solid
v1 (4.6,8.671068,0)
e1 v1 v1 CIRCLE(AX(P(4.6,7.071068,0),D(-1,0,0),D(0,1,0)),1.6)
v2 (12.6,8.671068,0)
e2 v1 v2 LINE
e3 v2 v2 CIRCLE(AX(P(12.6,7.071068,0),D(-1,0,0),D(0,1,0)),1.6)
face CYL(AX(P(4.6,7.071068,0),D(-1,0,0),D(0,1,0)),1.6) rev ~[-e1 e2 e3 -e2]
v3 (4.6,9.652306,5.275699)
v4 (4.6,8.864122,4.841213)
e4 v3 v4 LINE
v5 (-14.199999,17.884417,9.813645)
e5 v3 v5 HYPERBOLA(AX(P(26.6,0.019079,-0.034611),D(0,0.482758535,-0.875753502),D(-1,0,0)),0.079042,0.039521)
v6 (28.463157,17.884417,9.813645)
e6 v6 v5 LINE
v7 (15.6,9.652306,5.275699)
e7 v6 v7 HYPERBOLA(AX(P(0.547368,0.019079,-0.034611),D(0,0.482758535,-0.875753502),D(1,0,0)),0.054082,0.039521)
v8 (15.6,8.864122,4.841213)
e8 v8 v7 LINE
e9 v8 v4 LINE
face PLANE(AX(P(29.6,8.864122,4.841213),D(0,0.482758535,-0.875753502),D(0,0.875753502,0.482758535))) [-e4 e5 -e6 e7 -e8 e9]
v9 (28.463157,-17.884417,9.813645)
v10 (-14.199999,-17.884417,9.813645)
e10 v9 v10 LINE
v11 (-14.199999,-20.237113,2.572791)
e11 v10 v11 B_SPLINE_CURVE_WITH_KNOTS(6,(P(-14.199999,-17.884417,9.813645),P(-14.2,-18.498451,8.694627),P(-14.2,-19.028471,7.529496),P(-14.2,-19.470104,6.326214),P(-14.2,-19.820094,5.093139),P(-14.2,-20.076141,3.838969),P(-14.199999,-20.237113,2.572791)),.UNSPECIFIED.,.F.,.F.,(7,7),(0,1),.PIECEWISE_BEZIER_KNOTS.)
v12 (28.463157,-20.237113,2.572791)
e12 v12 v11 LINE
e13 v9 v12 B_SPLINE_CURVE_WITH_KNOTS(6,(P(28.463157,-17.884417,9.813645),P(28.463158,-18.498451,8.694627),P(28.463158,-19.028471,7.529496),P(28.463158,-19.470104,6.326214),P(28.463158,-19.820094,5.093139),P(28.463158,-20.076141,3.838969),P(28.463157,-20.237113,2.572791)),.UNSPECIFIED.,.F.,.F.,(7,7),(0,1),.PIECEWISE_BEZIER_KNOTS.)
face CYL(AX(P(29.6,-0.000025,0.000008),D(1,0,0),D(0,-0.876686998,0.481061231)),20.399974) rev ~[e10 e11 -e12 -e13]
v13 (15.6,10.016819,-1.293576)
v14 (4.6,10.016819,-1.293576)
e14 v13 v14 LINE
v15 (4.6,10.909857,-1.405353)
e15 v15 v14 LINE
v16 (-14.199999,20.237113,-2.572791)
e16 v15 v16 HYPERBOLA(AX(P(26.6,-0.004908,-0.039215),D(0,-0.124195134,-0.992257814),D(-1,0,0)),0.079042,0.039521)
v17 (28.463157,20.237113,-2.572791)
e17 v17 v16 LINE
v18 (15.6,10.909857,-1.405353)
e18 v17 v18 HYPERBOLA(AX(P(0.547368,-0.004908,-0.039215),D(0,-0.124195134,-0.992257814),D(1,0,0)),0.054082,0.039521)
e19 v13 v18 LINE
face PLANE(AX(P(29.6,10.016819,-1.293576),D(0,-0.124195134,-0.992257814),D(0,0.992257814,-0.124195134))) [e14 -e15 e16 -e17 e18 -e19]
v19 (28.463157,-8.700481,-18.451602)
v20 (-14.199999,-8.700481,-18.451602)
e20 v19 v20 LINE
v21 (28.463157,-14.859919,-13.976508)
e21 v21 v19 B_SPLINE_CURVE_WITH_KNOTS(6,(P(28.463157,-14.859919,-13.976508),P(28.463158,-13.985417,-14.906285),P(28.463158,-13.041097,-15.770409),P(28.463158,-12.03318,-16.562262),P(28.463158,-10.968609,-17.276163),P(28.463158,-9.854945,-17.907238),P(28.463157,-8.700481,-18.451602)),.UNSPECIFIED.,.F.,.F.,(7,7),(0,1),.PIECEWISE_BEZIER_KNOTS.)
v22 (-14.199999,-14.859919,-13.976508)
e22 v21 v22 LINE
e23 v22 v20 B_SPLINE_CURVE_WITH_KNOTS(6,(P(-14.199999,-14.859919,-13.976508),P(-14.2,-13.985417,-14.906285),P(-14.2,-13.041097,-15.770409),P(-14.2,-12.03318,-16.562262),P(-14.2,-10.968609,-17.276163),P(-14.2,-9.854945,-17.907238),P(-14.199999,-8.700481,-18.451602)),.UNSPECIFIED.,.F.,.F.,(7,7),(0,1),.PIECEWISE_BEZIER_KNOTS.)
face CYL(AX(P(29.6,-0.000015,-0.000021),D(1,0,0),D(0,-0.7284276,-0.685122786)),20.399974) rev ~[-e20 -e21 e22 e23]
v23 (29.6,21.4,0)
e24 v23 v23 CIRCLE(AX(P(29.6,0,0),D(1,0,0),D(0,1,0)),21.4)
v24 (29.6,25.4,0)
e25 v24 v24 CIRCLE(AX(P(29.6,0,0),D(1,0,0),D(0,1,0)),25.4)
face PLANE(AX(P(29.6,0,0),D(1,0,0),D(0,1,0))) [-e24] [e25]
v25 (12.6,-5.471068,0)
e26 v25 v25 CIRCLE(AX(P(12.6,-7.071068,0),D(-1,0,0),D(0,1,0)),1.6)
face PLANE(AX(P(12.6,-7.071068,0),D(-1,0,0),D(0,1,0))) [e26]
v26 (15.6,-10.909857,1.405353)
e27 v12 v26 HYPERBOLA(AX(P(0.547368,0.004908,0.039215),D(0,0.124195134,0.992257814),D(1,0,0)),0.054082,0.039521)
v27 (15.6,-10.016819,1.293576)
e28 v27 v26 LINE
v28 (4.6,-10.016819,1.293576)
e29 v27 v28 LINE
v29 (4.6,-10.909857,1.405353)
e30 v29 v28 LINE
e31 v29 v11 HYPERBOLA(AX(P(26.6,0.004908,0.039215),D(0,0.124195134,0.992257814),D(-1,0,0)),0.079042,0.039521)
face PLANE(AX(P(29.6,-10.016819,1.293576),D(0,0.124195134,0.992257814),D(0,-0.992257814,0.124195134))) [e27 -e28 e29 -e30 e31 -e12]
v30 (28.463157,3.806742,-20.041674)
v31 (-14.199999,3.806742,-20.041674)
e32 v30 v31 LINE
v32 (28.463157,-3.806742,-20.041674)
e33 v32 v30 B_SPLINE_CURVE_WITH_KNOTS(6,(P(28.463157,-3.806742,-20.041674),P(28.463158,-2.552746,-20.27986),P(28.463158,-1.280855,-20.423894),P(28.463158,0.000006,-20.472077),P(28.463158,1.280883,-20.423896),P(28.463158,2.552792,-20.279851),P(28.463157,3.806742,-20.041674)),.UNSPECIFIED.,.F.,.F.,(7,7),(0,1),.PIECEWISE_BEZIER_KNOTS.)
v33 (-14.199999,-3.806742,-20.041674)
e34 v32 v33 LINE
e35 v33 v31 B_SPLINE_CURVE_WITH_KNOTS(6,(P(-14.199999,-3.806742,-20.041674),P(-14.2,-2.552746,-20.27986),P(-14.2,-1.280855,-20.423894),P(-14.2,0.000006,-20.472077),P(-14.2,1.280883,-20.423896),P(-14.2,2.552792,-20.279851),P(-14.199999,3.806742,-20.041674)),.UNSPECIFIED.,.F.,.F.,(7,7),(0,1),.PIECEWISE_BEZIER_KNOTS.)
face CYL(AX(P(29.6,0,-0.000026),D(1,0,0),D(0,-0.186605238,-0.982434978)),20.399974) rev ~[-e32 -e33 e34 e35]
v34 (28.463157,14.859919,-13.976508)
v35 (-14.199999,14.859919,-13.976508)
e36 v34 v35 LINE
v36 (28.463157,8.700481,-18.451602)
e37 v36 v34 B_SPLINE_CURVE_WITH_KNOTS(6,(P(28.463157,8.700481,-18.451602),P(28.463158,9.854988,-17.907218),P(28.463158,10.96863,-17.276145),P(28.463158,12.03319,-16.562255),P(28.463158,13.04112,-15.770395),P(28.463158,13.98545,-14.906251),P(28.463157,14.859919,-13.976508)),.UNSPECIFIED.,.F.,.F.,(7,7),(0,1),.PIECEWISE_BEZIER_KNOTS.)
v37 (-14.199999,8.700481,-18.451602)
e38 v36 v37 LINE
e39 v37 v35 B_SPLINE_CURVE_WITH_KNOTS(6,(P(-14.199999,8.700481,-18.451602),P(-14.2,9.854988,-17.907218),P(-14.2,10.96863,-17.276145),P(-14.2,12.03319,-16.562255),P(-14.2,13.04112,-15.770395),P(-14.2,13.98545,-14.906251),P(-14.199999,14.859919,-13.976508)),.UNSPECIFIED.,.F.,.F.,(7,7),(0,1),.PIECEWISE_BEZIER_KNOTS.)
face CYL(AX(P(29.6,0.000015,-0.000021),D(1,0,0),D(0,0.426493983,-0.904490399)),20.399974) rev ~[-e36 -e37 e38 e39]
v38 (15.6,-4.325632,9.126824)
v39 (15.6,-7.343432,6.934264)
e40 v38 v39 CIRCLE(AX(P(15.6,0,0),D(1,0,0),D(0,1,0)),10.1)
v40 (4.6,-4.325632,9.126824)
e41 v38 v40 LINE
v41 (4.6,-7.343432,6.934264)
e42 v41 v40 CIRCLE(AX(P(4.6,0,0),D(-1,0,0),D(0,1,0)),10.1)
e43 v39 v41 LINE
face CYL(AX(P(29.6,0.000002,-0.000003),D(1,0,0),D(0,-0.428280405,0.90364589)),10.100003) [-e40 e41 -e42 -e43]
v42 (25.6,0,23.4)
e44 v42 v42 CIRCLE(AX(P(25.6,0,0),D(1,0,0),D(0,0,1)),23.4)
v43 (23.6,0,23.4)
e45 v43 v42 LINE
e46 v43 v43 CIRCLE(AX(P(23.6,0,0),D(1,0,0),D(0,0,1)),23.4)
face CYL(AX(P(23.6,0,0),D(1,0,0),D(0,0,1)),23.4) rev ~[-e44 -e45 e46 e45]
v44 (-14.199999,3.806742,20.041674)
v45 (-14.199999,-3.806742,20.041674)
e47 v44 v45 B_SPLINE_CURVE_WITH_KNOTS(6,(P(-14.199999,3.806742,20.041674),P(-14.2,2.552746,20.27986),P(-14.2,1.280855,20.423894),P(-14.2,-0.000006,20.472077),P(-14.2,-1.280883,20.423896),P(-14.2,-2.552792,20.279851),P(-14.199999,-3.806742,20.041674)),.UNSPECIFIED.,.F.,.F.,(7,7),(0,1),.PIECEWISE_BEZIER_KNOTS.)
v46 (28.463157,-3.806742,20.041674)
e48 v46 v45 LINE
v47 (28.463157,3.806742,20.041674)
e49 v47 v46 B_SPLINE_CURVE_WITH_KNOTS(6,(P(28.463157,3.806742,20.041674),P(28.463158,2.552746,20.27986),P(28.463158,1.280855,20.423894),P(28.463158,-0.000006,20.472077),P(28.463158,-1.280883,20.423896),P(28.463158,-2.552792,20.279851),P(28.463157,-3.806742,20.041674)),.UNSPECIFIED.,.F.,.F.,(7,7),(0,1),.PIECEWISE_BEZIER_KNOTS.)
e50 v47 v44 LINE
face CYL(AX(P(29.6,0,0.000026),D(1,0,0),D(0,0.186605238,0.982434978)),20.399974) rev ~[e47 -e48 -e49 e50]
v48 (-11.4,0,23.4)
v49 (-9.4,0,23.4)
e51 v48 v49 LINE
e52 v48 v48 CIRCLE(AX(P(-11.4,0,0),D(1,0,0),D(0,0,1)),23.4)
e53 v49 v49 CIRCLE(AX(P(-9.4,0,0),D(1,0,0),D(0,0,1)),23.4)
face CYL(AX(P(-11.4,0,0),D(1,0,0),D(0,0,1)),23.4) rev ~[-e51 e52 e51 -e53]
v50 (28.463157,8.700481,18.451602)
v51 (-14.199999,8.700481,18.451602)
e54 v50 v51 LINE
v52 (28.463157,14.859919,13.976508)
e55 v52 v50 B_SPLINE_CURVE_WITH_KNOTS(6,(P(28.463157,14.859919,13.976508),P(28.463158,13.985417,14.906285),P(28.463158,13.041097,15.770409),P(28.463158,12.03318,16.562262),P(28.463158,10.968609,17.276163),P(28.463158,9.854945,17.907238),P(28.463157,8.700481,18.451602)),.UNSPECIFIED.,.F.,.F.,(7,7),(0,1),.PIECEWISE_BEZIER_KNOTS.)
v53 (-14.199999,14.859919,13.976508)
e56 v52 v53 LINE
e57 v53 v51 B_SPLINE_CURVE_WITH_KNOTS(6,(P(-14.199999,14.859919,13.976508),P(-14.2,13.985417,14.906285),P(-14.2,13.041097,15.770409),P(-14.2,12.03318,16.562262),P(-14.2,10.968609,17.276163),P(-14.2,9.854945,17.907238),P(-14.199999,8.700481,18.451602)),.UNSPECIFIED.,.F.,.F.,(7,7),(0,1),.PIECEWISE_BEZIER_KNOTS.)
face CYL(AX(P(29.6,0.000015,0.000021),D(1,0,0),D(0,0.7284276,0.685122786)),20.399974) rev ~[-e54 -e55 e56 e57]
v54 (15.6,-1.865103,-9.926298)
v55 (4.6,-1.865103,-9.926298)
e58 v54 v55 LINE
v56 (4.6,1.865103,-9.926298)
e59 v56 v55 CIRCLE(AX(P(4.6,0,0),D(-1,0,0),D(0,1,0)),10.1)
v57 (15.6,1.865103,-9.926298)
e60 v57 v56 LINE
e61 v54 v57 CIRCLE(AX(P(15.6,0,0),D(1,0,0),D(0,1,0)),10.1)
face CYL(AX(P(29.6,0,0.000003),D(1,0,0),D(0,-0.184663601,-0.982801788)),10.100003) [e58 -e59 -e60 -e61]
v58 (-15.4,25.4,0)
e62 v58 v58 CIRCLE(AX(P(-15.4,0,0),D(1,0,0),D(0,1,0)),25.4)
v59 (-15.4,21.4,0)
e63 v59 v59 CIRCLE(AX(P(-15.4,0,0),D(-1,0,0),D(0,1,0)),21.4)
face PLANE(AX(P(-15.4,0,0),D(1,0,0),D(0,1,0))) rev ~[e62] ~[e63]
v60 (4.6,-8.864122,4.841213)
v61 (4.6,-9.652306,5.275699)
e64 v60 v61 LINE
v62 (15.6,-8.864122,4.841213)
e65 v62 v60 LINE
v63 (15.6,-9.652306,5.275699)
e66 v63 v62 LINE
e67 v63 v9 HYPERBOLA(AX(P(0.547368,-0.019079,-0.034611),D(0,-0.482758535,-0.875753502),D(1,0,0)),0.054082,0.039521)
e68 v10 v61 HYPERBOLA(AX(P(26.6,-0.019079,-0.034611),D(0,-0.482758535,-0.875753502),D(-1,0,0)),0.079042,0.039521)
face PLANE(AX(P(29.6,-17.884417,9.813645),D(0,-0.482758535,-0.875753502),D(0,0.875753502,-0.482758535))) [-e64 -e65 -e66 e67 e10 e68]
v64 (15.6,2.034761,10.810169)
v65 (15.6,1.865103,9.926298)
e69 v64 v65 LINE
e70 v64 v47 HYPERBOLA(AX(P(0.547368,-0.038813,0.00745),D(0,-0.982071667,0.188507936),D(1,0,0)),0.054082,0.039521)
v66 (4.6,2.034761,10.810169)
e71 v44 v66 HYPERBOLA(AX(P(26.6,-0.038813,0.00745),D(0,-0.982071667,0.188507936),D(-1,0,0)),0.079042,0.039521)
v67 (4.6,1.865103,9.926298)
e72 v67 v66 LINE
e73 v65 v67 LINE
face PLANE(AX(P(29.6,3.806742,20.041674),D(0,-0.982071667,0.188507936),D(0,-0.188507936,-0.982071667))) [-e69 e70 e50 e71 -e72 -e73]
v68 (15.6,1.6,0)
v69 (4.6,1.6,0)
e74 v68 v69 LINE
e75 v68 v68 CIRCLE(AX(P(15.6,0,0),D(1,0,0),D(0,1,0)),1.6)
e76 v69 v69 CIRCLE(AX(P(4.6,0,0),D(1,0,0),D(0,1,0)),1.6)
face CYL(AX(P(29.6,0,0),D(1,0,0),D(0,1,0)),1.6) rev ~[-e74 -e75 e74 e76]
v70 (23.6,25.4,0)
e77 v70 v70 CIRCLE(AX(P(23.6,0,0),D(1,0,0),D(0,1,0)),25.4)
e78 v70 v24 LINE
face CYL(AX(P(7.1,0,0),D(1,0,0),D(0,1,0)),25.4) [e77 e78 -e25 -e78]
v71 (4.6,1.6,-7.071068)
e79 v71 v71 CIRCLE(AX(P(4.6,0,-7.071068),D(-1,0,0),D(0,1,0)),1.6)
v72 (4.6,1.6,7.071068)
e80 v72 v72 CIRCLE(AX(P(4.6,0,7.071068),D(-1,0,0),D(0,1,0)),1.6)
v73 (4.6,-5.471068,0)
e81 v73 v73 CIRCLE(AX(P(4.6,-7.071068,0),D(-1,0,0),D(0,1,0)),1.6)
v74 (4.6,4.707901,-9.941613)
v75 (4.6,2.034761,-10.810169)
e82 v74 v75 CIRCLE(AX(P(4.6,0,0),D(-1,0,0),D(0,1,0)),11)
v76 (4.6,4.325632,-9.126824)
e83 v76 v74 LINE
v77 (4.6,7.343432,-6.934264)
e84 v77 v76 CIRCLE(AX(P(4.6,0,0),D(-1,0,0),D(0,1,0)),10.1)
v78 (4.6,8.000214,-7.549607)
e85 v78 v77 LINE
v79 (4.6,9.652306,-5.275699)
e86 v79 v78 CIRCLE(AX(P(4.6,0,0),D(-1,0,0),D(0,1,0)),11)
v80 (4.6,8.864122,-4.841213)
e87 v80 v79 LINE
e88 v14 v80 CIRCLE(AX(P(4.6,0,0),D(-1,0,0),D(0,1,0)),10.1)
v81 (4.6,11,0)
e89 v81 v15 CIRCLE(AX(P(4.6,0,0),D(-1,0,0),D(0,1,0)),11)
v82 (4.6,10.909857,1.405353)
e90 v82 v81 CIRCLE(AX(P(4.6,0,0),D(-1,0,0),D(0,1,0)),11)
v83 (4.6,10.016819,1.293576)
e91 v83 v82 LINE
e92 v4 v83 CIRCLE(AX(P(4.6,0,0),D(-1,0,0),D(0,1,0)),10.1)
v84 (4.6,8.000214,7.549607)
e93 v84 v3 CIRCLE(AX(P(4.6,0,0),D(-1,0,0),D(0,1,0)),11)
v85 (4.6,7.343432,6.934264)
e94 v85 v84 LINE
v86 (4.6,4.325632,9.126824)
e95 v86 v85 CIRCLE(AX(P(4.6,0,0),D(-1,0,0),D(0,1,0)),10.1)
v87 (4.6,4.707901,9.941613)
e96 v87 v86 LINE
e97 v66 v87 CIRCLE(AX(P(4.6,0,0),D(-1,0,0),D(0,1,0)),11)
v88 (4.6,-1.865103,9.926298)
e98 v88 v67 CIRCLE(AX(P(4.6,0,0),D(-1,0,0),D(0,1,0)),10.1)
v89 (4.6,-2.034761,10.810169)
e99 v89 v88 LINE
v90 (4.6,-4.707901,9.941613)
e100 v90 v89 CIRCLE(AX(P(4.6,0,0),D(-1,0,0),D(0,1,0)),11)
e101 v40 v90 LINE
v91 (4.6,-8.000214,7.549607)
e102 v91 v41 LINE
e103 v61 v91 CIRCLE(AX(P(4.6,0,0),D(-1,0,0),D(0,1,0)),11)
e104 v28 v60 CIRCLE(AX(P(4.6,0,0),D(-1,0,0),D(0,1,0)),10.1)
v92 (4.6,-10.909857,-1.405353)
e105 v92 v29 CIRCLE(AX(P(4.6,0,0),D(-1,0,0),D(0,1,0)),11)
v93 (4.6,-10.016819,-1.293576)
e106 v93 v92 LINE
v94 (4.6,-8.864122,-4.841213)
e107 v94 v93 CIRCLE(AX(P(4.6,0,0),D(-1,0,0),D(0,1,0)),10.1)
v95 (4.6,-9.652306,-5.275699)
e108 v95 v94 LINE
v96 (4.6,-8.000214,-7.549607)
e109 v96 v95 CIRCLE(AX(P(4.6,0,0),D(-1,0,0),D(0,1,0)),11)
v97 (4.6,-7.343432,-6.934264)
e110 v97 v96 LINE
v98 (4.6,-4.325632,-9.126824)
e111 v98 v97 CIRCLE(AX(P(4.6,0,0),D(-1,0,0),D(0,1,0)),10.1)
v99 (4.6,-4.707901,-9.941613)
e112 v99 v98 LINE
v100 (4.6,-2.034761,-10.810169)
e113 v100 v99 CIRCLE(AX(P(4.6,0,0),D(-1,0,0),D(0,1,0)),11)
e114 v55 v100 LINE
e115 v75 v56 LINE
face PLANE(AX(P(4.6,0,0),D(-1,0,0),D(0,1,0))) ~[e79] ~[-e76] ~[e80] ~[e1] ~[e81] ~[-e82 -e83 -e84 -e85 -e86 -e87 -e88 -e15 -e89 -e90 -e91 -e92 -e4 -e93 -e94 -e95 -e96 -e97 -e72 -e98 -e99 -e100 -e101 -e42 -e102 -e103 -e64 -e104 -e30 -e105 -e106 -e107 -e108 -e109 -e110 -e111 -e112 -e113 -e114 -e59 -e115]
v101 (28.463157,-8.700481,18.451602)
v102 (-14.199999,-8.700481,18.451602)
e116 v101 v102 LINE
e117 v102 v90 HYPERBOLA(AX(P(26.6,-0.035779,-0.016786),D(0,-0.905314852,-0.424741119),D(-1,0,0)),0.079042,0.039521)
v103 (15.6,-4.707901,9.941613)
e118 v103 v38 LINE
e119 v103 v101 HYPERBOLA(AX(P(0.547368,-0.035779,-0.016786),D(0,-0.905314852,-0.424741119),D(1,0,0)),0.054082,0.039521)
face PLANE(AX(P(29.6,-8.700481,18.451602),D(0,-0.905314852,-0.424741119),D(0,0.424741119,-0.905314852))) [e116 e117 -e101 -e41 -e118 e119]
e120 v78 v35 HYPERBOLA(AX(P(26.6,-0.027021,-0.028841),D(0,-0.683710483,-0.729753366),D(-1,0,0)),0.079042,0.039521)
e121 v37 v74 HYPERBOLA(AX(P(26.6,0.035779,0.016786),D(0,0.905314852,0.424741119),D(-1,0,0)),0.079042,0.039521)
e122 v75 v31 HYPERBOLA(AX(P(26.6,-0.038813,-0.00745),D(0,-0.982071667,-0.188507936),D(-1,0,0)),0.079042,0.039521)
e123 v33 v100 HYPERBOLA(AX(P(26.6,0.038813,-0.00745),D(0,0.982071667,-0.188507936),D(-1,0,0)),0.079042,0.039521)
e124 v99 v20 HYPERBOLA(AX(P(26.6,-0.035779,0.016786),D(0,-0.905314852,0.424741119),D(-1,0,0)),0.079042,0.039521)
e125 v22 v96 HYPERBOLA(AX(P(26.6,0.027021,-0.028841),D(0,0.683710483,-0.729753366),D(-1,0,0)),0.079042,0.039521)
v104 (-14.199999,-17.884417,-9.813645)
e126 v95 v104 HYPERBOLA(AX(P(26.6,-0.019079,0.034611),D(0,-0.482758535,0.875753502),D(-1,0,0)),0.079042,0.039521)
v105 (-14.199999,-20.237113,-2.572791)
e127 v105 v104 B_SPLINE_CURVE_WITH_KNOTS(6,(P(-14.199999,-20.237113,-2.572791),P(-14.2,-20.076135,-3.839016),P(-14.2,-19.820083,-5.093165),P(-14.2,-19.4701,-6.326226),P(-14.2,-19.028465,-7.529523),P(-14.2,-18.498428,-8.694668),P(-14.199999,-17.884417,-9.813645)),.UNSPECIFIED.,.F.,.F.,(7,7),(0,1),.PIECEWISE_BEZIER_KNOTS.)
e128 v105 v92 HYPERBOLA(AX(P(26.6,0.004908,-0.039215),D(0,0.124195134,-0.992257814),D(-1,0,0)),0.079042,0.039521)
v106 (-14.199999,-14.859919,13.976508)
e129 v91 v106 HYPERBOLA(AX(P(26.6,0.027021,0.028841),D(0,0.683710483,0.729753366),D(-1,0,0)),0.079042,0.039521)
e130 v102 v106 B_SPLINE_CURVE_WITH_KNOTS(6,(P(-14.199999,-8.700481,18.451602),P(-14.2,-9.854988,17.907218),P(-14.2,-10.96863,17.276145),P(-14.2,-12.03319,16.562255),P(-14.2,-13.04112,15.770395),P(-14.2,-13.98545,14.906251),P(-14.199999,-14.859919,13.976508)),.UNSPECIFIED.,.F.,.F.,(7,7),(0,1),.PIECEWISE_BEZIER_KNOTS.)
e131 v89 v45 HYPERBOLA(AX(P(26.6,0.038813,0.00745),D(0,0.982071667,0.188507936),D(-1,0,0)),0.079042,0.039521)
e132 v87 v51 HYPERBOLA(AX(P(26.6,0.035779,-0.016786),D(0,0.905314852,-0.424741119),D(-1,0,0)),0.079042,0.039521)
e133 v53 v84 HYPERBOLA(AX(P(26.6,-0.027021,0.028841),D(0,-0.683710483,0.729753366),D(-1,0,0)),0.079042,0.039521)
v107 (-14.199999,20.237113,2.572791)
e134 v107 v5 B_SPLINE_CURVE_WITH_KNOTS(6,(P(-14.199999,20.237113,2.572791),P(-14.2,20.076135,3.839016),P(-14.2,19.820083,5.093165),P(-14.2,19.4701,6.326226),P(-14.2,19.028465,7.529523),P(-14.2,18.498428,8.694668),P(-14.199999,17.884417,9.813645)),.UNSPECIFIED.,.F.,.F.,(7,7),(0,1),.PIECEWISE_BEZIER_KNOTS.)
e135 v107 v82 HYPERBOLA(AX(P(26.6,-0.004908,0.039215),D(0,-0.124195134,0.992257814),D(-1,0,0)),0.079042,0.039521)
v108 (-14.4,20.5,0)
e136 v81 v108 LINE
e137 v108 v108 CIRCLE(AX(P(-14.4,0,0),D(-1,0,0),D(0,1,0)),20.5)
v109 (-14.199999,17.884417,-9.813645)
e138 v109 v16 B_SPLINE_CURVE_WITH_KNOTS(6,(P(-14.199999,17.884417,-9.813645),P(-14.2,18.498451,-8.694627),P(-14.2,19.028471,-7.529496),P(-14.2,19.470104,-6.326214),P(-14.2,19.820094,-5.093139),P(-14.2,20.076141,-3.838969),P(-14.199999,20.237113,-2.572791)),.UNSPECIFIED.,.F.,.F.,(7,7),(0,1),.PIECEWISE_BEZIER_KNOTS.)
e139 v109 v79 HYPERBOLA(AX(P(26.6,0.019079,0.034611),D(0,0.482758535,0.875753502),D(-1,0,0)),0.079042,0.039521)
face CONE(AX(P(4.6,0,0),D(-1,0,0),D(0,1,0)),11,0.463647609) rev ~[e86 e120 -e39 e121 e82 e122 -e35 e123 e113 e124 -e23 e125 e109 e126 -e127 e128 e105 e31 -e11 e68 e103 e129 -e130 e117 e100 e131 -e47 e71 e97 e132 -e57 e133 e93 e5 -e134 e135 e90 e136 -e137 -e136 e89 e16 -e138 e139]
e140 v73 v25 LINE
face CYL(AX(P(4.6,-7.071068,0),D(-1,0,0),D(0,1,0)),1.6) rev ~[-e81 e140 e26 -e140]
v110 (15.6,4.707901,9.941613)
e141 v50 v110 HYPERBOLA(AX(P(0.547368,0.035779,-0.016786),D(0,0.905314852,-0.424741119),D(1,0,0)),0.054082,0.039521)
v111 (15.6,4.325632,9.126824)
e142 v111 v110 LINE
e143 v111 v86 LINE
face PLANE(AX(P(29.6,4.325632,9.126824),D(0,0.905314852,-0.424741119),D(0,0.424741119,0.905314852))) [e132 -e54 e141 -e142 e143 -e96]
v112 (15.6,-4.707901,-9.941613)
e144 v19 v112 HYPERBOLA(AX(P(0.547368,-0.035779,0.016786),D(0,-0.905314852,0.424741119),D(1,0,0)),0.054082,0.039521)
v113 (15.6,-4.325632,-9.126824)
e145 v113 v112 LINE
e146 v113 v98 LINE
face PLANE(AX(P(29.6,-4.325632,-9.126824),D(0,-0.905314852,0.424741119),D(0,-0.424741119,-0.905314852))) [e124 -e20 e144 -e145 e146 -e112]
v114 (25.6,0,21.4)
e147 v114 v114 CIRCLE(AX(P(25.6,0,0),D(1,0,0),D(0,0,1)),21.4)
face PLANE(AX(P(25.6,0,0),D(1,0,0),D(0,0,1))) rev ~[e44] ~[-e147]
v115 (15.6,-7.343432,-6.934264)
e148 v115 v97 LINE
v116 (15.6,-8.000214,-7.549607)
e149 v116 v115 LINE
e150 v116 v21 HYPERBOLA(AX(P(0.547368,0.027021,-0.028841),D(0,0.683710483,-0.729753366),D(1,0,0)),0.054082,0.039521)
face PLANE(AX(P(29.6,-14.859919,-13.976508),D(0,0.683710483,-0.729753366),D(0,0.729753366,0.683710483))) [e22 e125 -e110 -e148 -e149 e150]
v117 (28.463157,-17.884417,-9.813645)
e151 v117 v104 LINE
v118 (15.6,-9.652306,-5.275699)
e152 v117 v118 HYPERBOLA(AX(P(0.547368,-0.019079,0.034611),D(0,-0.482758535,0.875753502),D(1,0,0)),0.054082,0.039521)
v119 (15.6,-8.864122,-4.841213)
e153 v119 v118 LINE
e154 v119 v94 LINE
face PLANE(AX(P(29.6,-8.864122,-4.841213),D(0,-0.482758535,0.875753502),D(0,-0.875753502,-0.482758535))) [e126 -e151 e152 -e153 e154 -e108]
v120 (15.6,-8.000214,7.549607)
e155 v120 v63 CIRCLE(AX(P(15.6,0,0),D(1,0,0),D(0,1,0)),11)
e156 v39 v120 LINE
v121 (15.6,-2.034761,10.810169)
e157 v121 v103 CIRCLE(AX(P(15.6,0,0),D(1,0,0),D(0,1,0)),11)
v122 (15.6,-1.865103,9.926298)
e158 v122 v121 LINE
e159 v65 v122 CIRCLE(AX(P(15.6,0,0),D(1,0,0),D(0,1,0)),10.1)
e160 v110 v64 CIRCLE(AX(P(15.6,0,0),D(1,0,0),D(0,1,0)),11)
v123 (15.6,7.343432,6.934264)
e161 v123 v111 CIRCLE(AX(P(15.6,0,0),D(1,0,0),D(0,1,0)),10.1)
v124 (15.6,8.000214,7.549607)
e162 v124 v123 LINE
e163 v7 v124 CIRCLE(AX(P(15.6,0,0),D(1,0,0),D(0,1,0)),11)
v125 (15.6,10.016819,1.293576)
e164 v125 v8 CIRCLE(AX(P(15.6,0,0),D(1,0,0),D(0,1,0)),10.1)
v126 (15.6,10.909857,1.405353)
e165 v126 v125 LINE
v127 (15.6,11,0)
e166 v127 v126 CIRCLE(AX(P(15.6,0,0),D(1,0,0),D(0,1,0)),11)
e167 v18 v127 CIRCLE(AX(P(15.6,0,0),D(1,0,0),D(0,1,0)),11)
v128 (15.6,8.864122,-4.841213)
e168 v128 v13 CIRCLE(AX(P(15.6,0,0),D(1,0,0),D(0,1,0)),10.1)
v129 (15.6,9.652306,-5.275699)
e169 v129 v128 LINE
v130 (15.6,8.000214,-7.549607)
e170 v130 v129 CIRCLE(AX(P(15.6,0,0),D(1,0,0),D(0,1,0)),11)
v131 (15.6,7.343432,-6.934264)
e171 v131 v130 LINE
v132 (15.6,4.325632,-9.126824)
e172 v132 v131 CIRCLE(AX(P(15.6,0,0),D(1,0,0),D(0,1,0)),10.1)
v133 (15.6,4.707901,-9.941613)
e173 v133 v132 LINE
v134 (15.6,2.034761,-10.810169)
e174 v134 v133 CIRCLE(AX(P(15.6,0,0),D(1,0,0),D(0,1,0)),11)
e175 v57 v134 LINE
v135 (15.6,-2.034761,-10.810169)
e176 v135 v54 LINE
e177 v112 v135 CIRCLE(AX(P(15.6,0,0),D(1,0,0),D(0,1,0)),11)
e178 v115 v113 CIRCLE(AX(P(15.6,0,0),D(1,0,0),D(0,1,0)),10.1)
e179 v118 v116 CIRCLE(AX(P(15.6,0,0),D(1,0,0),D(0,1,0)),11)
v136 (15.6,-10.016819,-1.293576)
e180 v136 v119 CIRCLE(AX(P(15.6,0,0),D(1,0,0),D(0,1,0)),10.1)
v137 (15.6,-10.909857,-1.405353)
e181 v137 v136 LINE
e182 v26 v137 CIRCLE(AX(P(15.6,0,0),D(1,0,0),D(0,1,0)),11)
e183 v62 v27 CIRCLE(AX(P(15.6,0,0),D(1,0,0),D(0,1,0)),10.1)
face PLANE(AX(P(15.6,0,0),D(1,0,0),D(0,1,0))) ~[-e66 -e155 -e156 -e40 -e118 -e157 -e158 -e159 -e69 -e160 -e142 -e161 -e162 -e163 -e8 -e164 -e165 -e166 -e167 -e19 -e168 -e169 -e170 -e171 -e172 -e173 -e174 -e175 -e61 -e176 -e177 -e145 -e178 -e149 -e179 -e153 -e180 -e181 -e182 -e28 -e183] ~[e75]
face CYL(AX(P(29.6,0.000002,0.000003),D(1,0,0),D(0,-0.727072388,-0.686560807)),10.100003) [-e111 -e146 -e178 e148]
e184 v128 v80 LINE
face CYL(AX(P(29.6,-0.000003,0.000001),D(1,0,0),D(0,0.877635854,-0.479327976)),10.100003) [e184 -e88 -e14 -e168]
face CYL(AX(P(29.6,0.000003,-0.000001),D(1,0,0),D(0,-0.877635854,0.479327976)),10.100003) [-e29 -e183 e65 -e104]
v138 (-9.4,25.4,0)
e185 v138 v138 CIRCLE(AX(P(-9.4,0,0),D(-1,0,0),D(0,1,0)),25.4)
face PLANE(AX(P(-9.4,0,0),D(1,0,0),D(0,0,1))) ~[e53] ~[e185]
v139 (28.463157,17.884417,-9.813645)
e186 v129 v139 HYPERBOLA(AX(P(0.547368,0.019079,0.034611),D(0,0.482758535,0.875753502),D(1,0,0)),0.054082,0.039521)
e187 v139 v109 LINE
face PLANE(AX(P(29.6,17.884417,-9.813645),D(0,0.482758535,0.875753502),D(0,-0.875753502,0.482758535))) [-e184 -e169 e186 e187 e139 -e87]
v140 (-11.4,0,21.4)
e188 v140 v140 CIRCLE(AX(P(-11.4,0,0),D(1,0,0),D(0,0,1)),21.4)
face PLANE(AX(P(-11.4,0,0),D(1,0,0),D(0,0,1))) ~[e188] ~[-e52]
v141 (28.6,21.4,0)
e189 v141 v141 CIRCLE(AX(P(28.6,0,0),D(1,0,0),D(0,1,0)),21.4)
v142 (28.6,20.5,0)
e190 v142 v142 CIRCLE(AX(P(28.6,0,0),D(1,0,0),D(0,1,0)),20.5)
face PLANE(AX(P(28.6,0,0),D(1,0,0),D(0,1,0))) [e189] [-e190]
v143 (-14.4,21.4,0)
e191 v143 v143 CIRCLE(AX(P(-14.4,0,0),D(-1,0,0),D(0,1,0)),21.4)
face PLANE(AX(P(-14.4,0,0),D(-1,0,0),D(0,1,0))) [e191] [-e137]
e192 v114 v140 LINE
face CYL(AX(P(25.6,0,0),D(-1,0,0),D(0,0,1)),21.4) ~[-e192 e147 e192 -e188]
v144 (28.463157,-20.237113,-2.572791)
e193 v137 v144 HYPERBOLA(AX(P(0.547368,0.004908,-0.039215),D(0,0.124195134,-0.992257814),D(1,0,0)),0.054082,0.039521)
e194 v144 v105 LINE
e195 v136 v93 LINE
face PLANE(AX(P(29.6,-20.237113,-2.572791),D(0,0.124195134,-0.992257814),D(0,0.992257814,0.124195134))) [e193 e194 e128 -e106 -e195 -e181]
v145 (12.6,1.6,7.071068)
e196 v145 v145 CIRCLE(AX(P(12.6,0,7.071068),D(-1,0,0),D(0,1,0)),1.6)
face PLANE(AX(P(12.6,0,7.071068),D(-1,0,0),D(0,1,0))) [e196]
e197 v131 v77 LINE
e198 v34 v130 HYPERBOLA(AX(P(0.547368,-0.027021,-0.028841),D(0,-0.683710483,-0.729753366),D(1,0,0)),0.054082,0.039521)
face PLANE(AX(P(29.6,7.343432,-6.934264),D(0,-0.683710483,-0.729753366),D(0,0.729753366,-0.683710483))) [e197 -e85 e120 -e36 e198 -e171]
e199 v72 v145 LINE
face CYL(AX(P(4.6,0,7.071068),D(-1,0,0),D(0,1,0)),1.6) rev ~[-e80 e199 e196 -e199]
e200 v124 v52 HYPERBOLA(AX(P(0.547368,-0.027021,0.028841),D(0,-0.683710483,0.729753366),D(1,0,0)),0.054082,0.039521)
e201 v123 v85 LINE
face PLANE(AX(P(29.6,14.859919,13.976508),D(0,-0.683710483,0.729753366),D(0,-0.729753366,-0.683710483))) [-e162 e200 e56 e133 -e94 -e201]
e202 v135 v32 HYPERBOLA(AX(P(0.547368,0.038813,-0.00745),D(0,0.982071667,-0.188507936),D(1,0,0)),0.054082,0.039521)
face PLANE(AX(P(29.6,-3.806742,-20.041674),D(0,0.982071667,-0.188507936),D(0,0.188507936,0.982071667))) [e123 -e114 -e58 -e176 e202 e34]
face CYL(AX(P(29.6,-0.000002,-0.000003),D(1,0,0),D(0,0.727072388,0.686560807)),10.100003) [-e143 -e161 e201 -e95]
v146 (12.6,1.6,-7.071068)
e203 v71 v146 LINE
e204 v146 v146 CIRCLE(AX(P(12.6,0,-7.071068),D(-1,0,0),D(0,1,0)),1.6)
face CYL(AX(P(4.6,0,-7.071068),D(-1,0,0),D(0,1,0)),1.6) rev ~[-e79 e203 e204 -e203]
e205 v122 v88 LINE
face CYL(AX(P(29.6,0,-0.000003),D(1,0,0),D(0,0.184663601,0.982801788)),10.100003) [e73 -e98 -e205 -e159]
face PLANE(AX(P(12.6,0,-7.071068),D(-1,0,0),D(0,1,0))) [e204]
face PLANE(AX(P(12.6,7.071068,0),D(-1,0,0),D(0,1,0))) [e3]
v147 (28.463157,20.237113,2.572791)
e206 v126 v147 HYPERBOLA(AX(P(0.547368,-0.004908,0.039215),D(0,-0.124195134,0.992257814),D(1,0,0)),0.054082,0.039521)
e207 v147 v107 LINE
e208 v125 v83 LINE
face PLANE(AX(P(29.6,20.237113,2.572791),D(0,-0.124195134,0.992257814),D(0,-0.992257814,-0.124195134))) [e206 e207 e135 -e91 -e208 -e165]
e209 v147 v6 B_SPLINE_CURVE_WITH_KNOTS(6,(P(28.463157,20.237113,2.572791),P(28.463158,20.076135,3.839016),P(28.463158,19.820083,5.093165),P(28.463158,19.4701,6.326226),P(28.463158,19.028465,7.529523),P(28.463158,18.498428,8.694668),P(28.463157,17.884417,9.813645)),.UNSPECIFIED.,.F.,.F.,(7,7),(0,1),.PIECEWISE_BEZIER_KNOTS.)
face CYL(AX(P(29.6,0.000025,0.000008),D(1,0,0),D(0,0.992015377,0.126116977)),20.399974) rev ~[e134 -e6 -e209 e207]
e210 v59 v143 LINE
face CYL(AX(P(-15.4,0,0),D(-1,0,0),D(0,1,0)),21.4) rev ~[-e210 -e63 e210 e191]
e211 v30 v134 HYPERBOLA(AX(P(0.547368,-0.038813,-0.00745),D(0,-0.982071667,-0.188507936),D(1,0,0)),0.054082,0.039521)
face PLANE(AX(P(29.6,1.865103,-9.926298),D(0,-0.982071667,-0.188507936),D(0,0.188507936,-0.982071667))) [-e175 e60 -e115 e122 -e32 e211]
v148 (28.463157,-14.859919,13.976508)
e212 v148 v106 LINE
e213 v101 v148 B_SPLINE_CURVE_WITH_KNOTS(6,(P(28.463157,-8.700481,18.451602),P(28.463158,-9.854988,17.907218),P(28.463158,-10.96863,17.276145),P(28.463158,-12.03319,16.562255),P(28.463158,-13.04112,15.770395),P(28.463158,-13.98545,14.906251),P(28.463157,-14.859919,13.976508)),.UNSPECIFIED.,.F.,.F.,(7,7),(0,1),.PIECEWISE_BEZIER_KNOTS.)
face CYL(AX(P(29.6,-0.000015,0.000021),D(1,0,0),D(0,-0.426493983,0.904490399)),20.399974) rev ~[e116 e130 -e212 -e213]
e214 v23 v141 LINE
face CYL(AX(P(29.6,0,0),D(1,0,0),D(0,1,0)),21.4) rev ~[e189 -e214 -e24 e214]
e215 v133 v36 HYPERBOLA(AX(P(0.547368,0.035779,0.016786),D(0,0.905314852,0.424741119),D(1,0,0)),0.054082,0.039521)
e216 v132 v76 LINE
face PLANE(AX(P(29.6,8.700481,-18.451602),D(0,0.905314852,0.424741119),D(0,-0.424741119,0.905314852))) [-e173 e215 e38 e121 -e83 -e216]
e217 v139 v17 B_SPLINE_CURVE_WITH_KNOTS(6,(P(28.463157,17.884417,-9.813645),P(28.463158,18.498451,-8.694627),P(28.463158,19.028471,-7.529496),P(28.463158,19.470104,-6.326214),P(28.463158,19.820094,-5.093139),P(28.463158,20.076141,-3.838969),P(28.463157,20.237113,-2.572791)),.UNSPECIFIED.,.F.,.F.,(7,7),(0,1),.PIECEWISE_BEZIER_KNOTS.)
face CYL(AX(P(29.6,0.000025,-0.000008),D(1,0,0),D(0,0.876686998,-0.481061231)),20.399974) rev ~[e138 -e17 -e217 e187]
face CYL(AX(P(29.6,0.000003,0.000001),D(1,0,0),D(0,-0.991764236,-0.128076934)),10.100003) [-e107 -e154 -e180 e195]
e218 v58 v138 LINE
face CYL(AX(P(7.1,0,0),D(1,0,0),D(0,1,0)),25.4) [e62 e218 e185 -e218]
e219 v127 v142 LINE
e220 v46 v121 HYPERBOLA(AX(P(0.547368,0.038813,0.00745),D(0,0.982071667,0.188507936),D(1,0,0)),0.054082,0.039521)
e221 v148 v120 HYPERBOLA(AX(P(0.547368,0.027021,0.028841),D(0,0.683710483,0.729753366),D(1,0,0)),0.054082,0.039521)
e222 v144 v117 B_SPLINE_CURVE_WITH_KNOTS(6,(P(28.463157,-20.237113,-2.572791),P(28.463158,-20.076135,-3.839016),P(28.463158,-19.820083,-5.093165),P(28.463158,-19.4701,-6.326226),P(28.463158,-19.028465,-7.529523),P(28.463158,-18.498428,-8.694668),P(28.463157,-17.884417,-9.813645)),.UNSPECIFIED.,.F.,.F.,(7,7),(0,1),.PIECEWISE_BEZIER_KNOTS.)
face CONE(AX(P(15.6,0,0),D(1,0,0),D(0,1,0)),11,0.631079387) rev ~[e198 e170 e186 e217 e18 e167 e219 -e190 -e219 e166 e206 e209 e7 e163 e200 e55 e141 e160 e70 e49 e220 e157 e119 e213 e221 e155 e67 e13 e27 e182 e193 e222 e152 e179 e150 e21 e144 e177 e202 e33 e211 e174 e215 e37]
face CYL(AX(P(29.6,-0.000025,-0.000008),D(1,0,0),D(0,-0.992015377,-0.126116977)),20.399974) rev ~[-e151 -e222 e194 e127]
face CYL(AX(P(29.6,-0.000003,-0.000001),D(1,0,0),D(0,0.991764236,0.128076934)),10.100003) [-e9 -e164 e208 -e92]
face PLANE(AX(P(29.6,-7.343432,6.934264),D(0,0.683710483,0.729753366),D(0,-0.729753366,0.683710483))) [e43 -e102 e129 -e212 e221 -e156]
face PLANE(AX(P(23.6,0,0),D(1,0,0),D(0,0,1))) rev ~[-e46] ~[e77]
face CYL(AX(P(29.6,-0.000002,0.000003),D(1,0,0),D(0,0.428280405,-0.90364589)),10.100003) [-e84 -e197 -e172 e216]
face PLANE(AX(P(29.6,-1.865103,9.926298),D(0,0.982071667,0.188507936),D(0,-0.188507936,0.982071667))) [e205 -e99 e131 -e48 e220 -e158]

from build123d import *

# Parameters (mm, degrees)
SKETCH027_R        = 25.4
PAD009_DEPTH       = 22.5
POCKET015_DEPTH    = 214.544859
POLARPATTERN_COUNT = 10
SKETCH029_R        = 1.6
POCKET016_DEPTH    = 45.001
SKETCH030_R        = 21.4
POCKET017_DEPTH    = 1
SKETCH_R           = 21.4
POCKET_DEPTH       = 1
SKETCH031_R        = 10.1
POCKET018_DEPTH    = 19
SKETCH069_R        = 1.6
POCKET040_DEPTH    = 8
SKETCH035_R        = 10.1
POCKET020_DEPTH    = 13


with BuildPart() as part:
    # Sketch027 → Pad009 (new body, symmetric)
    with BuildSketch(Plane.YZ):
        Circle(SKETCH027_R)
    extrude(amount=PAD009_DEPTH, both=True)

    # Sketch028 (on Face3 of Pad009) → Pocket015 (cut, through all)
    with BuildSketch(Plane.YZ.offset(22.5)):
        with BuildLine():
            ThreePointArc((1.865103, 9.926298), (0, 10.1), (-1.865103, 9.926298))
            Line((-1.865103, 9.926298), (-3.806742, 20.041674))
            ThreePointArc((3.806742, 20.041674), (0, 20.4), (-3.806742, 20.041674))
            Line((3.806742, 20.041674), (1.865103, 9.926298))
        make_face()
    pocket015 = extrude(amount=-POCKET015_DEPTH, mode=Mode.SUBTRACT)

    # PolarPattern: Pocket015 ×10 about axis
    polarpattern_axis = Axis((22.5, 0, 0), (1, 0, 0))
    for i in range(1, POLARPATTERN_COUNT):
        add(pocket015.rotate(polarpattern_axis, i * 360 / POLARPATTERN_COUNT), mode=Mode.SUBTRACT)

    # Sketch033 → Groove (revolve, cut)
    with BuildSketch(Plane.XZ):
        Polygon((-16.5, 25.4), (16.5, 25.4), (16.5, 23.4), (18.5, 23.4), (18.5, 21.4), (-18.5, 21.4), (-18.5, 23.4), (-16.5, 23.4), align=None)
    revolve(axis=Axis((0, 0, 0), (1, 0, 0)), mode=Mode.SUBTRACT)

    # Sketch029 (on Face3 of PolarPattern) → Pocket016 (cut, through all)
    with BuildSketch(Plane.YZ.offset(22.5)):
        Circle(SKETCH029_R)
    extrude(amount=-POCKET016_DEPTH, mode=Mode.SUBTRACT)

    # Sketch030 (on Face2 of Pocket016) → Pocket017 (cut)
    with BuildSketch(Plane(origin=(-22.5, 0, 0), x_dir=(0, 1, 0), z_dir=(-1, 0, 0))):
        Circle(SKETCH030_R)
    extrude(amount=-POCKET017_DEPTH, mode=Mode.SUBTRACT)

    # Sketch (on Face50 of Pocket017) → Pocket (cut)
    with BuildSketch(Plane.YZ.offset(22.5)):
        Circle(SKETCH_R)
    extrude(amount=-POCKET_DEPTH, mode=Mode.SUBTRACT)

    # Sketch031 (on Face6 of Pocket017) → Pocket018 (cut)
    with BuildSketch(Plane(origin=(-21.5, 0, 0), x_dir=(0, 1, 0), z_dir=(-1, 0, 0))):
        Circle(SKETCH031_R)
    extrude(amount=-POCKET018_DEPTH, mode=Mode.SUBTRACT)

    # Sketch069 (on Face52 of Pocket018) → Pocket040 (cut)
    with BuildSketch(Plane(origin=(-2.5, 0, 0), x_dir=(0, 1, 0), z_dir=(-1, 0, 0))):
        with Locations((-7.071068, 0)):
            Circle(SKETCH069_R)
        with Locations((0, 7.071068)):
            Circle(SKETCH069_R)
        with Locations((7.071068, 0)):
            Circle(SKETCH069_R)
        with Locations((0, -7.071068)):
            Circle(SKETCH069_R)
    extrude(amount=-POCKET040_DEPTH, mode=Mode.SUBTRACT)

    # Sketch035 (on Face50 of Pocket040) → Pocket020 (cut)
    with BuildSketch(Plane.YZ.offset(21.5)):
        Circle(SKETCH035_R)
    extrude(amount=-POCKET020_DEPTH, mode=Mode.SUBTRACT)

    # Cone → Cone (revolve, cut)
    with BuildSketch(Plane(origin=(8.5, 0, 0), x_dir=(0, 1, 0), z_dir=(0, 0, -1))):
        Polygon((0, 0), (11, 0), (20.5, 13), (0, 13), align=None)
    revolve(axis=Axis((8.5, 0, 0), (1, 0, 0)), mode=Mode.SUBTRACT)

    # Cone001 → Cone001 (revolve, cut)
    with BuildSketch(Plane(origin=(-2.5, 0, 0), x_dir=(0, 1, 0), z_dir=(0, 0, 1))):
        Polygon((0, 0), (11, 0), (20.5, 19), (0, 19), align=None)
    revolve(axis=Axis((-2.5, 0, 0), (-1, 0, 0)), mode=Mode.SUBTRACT)


with BuildPart() as part_1:
    # Body006 placement: moved
    add(part.part.moved(Location((7.1, 0, 0))))


solid = part_1.part
